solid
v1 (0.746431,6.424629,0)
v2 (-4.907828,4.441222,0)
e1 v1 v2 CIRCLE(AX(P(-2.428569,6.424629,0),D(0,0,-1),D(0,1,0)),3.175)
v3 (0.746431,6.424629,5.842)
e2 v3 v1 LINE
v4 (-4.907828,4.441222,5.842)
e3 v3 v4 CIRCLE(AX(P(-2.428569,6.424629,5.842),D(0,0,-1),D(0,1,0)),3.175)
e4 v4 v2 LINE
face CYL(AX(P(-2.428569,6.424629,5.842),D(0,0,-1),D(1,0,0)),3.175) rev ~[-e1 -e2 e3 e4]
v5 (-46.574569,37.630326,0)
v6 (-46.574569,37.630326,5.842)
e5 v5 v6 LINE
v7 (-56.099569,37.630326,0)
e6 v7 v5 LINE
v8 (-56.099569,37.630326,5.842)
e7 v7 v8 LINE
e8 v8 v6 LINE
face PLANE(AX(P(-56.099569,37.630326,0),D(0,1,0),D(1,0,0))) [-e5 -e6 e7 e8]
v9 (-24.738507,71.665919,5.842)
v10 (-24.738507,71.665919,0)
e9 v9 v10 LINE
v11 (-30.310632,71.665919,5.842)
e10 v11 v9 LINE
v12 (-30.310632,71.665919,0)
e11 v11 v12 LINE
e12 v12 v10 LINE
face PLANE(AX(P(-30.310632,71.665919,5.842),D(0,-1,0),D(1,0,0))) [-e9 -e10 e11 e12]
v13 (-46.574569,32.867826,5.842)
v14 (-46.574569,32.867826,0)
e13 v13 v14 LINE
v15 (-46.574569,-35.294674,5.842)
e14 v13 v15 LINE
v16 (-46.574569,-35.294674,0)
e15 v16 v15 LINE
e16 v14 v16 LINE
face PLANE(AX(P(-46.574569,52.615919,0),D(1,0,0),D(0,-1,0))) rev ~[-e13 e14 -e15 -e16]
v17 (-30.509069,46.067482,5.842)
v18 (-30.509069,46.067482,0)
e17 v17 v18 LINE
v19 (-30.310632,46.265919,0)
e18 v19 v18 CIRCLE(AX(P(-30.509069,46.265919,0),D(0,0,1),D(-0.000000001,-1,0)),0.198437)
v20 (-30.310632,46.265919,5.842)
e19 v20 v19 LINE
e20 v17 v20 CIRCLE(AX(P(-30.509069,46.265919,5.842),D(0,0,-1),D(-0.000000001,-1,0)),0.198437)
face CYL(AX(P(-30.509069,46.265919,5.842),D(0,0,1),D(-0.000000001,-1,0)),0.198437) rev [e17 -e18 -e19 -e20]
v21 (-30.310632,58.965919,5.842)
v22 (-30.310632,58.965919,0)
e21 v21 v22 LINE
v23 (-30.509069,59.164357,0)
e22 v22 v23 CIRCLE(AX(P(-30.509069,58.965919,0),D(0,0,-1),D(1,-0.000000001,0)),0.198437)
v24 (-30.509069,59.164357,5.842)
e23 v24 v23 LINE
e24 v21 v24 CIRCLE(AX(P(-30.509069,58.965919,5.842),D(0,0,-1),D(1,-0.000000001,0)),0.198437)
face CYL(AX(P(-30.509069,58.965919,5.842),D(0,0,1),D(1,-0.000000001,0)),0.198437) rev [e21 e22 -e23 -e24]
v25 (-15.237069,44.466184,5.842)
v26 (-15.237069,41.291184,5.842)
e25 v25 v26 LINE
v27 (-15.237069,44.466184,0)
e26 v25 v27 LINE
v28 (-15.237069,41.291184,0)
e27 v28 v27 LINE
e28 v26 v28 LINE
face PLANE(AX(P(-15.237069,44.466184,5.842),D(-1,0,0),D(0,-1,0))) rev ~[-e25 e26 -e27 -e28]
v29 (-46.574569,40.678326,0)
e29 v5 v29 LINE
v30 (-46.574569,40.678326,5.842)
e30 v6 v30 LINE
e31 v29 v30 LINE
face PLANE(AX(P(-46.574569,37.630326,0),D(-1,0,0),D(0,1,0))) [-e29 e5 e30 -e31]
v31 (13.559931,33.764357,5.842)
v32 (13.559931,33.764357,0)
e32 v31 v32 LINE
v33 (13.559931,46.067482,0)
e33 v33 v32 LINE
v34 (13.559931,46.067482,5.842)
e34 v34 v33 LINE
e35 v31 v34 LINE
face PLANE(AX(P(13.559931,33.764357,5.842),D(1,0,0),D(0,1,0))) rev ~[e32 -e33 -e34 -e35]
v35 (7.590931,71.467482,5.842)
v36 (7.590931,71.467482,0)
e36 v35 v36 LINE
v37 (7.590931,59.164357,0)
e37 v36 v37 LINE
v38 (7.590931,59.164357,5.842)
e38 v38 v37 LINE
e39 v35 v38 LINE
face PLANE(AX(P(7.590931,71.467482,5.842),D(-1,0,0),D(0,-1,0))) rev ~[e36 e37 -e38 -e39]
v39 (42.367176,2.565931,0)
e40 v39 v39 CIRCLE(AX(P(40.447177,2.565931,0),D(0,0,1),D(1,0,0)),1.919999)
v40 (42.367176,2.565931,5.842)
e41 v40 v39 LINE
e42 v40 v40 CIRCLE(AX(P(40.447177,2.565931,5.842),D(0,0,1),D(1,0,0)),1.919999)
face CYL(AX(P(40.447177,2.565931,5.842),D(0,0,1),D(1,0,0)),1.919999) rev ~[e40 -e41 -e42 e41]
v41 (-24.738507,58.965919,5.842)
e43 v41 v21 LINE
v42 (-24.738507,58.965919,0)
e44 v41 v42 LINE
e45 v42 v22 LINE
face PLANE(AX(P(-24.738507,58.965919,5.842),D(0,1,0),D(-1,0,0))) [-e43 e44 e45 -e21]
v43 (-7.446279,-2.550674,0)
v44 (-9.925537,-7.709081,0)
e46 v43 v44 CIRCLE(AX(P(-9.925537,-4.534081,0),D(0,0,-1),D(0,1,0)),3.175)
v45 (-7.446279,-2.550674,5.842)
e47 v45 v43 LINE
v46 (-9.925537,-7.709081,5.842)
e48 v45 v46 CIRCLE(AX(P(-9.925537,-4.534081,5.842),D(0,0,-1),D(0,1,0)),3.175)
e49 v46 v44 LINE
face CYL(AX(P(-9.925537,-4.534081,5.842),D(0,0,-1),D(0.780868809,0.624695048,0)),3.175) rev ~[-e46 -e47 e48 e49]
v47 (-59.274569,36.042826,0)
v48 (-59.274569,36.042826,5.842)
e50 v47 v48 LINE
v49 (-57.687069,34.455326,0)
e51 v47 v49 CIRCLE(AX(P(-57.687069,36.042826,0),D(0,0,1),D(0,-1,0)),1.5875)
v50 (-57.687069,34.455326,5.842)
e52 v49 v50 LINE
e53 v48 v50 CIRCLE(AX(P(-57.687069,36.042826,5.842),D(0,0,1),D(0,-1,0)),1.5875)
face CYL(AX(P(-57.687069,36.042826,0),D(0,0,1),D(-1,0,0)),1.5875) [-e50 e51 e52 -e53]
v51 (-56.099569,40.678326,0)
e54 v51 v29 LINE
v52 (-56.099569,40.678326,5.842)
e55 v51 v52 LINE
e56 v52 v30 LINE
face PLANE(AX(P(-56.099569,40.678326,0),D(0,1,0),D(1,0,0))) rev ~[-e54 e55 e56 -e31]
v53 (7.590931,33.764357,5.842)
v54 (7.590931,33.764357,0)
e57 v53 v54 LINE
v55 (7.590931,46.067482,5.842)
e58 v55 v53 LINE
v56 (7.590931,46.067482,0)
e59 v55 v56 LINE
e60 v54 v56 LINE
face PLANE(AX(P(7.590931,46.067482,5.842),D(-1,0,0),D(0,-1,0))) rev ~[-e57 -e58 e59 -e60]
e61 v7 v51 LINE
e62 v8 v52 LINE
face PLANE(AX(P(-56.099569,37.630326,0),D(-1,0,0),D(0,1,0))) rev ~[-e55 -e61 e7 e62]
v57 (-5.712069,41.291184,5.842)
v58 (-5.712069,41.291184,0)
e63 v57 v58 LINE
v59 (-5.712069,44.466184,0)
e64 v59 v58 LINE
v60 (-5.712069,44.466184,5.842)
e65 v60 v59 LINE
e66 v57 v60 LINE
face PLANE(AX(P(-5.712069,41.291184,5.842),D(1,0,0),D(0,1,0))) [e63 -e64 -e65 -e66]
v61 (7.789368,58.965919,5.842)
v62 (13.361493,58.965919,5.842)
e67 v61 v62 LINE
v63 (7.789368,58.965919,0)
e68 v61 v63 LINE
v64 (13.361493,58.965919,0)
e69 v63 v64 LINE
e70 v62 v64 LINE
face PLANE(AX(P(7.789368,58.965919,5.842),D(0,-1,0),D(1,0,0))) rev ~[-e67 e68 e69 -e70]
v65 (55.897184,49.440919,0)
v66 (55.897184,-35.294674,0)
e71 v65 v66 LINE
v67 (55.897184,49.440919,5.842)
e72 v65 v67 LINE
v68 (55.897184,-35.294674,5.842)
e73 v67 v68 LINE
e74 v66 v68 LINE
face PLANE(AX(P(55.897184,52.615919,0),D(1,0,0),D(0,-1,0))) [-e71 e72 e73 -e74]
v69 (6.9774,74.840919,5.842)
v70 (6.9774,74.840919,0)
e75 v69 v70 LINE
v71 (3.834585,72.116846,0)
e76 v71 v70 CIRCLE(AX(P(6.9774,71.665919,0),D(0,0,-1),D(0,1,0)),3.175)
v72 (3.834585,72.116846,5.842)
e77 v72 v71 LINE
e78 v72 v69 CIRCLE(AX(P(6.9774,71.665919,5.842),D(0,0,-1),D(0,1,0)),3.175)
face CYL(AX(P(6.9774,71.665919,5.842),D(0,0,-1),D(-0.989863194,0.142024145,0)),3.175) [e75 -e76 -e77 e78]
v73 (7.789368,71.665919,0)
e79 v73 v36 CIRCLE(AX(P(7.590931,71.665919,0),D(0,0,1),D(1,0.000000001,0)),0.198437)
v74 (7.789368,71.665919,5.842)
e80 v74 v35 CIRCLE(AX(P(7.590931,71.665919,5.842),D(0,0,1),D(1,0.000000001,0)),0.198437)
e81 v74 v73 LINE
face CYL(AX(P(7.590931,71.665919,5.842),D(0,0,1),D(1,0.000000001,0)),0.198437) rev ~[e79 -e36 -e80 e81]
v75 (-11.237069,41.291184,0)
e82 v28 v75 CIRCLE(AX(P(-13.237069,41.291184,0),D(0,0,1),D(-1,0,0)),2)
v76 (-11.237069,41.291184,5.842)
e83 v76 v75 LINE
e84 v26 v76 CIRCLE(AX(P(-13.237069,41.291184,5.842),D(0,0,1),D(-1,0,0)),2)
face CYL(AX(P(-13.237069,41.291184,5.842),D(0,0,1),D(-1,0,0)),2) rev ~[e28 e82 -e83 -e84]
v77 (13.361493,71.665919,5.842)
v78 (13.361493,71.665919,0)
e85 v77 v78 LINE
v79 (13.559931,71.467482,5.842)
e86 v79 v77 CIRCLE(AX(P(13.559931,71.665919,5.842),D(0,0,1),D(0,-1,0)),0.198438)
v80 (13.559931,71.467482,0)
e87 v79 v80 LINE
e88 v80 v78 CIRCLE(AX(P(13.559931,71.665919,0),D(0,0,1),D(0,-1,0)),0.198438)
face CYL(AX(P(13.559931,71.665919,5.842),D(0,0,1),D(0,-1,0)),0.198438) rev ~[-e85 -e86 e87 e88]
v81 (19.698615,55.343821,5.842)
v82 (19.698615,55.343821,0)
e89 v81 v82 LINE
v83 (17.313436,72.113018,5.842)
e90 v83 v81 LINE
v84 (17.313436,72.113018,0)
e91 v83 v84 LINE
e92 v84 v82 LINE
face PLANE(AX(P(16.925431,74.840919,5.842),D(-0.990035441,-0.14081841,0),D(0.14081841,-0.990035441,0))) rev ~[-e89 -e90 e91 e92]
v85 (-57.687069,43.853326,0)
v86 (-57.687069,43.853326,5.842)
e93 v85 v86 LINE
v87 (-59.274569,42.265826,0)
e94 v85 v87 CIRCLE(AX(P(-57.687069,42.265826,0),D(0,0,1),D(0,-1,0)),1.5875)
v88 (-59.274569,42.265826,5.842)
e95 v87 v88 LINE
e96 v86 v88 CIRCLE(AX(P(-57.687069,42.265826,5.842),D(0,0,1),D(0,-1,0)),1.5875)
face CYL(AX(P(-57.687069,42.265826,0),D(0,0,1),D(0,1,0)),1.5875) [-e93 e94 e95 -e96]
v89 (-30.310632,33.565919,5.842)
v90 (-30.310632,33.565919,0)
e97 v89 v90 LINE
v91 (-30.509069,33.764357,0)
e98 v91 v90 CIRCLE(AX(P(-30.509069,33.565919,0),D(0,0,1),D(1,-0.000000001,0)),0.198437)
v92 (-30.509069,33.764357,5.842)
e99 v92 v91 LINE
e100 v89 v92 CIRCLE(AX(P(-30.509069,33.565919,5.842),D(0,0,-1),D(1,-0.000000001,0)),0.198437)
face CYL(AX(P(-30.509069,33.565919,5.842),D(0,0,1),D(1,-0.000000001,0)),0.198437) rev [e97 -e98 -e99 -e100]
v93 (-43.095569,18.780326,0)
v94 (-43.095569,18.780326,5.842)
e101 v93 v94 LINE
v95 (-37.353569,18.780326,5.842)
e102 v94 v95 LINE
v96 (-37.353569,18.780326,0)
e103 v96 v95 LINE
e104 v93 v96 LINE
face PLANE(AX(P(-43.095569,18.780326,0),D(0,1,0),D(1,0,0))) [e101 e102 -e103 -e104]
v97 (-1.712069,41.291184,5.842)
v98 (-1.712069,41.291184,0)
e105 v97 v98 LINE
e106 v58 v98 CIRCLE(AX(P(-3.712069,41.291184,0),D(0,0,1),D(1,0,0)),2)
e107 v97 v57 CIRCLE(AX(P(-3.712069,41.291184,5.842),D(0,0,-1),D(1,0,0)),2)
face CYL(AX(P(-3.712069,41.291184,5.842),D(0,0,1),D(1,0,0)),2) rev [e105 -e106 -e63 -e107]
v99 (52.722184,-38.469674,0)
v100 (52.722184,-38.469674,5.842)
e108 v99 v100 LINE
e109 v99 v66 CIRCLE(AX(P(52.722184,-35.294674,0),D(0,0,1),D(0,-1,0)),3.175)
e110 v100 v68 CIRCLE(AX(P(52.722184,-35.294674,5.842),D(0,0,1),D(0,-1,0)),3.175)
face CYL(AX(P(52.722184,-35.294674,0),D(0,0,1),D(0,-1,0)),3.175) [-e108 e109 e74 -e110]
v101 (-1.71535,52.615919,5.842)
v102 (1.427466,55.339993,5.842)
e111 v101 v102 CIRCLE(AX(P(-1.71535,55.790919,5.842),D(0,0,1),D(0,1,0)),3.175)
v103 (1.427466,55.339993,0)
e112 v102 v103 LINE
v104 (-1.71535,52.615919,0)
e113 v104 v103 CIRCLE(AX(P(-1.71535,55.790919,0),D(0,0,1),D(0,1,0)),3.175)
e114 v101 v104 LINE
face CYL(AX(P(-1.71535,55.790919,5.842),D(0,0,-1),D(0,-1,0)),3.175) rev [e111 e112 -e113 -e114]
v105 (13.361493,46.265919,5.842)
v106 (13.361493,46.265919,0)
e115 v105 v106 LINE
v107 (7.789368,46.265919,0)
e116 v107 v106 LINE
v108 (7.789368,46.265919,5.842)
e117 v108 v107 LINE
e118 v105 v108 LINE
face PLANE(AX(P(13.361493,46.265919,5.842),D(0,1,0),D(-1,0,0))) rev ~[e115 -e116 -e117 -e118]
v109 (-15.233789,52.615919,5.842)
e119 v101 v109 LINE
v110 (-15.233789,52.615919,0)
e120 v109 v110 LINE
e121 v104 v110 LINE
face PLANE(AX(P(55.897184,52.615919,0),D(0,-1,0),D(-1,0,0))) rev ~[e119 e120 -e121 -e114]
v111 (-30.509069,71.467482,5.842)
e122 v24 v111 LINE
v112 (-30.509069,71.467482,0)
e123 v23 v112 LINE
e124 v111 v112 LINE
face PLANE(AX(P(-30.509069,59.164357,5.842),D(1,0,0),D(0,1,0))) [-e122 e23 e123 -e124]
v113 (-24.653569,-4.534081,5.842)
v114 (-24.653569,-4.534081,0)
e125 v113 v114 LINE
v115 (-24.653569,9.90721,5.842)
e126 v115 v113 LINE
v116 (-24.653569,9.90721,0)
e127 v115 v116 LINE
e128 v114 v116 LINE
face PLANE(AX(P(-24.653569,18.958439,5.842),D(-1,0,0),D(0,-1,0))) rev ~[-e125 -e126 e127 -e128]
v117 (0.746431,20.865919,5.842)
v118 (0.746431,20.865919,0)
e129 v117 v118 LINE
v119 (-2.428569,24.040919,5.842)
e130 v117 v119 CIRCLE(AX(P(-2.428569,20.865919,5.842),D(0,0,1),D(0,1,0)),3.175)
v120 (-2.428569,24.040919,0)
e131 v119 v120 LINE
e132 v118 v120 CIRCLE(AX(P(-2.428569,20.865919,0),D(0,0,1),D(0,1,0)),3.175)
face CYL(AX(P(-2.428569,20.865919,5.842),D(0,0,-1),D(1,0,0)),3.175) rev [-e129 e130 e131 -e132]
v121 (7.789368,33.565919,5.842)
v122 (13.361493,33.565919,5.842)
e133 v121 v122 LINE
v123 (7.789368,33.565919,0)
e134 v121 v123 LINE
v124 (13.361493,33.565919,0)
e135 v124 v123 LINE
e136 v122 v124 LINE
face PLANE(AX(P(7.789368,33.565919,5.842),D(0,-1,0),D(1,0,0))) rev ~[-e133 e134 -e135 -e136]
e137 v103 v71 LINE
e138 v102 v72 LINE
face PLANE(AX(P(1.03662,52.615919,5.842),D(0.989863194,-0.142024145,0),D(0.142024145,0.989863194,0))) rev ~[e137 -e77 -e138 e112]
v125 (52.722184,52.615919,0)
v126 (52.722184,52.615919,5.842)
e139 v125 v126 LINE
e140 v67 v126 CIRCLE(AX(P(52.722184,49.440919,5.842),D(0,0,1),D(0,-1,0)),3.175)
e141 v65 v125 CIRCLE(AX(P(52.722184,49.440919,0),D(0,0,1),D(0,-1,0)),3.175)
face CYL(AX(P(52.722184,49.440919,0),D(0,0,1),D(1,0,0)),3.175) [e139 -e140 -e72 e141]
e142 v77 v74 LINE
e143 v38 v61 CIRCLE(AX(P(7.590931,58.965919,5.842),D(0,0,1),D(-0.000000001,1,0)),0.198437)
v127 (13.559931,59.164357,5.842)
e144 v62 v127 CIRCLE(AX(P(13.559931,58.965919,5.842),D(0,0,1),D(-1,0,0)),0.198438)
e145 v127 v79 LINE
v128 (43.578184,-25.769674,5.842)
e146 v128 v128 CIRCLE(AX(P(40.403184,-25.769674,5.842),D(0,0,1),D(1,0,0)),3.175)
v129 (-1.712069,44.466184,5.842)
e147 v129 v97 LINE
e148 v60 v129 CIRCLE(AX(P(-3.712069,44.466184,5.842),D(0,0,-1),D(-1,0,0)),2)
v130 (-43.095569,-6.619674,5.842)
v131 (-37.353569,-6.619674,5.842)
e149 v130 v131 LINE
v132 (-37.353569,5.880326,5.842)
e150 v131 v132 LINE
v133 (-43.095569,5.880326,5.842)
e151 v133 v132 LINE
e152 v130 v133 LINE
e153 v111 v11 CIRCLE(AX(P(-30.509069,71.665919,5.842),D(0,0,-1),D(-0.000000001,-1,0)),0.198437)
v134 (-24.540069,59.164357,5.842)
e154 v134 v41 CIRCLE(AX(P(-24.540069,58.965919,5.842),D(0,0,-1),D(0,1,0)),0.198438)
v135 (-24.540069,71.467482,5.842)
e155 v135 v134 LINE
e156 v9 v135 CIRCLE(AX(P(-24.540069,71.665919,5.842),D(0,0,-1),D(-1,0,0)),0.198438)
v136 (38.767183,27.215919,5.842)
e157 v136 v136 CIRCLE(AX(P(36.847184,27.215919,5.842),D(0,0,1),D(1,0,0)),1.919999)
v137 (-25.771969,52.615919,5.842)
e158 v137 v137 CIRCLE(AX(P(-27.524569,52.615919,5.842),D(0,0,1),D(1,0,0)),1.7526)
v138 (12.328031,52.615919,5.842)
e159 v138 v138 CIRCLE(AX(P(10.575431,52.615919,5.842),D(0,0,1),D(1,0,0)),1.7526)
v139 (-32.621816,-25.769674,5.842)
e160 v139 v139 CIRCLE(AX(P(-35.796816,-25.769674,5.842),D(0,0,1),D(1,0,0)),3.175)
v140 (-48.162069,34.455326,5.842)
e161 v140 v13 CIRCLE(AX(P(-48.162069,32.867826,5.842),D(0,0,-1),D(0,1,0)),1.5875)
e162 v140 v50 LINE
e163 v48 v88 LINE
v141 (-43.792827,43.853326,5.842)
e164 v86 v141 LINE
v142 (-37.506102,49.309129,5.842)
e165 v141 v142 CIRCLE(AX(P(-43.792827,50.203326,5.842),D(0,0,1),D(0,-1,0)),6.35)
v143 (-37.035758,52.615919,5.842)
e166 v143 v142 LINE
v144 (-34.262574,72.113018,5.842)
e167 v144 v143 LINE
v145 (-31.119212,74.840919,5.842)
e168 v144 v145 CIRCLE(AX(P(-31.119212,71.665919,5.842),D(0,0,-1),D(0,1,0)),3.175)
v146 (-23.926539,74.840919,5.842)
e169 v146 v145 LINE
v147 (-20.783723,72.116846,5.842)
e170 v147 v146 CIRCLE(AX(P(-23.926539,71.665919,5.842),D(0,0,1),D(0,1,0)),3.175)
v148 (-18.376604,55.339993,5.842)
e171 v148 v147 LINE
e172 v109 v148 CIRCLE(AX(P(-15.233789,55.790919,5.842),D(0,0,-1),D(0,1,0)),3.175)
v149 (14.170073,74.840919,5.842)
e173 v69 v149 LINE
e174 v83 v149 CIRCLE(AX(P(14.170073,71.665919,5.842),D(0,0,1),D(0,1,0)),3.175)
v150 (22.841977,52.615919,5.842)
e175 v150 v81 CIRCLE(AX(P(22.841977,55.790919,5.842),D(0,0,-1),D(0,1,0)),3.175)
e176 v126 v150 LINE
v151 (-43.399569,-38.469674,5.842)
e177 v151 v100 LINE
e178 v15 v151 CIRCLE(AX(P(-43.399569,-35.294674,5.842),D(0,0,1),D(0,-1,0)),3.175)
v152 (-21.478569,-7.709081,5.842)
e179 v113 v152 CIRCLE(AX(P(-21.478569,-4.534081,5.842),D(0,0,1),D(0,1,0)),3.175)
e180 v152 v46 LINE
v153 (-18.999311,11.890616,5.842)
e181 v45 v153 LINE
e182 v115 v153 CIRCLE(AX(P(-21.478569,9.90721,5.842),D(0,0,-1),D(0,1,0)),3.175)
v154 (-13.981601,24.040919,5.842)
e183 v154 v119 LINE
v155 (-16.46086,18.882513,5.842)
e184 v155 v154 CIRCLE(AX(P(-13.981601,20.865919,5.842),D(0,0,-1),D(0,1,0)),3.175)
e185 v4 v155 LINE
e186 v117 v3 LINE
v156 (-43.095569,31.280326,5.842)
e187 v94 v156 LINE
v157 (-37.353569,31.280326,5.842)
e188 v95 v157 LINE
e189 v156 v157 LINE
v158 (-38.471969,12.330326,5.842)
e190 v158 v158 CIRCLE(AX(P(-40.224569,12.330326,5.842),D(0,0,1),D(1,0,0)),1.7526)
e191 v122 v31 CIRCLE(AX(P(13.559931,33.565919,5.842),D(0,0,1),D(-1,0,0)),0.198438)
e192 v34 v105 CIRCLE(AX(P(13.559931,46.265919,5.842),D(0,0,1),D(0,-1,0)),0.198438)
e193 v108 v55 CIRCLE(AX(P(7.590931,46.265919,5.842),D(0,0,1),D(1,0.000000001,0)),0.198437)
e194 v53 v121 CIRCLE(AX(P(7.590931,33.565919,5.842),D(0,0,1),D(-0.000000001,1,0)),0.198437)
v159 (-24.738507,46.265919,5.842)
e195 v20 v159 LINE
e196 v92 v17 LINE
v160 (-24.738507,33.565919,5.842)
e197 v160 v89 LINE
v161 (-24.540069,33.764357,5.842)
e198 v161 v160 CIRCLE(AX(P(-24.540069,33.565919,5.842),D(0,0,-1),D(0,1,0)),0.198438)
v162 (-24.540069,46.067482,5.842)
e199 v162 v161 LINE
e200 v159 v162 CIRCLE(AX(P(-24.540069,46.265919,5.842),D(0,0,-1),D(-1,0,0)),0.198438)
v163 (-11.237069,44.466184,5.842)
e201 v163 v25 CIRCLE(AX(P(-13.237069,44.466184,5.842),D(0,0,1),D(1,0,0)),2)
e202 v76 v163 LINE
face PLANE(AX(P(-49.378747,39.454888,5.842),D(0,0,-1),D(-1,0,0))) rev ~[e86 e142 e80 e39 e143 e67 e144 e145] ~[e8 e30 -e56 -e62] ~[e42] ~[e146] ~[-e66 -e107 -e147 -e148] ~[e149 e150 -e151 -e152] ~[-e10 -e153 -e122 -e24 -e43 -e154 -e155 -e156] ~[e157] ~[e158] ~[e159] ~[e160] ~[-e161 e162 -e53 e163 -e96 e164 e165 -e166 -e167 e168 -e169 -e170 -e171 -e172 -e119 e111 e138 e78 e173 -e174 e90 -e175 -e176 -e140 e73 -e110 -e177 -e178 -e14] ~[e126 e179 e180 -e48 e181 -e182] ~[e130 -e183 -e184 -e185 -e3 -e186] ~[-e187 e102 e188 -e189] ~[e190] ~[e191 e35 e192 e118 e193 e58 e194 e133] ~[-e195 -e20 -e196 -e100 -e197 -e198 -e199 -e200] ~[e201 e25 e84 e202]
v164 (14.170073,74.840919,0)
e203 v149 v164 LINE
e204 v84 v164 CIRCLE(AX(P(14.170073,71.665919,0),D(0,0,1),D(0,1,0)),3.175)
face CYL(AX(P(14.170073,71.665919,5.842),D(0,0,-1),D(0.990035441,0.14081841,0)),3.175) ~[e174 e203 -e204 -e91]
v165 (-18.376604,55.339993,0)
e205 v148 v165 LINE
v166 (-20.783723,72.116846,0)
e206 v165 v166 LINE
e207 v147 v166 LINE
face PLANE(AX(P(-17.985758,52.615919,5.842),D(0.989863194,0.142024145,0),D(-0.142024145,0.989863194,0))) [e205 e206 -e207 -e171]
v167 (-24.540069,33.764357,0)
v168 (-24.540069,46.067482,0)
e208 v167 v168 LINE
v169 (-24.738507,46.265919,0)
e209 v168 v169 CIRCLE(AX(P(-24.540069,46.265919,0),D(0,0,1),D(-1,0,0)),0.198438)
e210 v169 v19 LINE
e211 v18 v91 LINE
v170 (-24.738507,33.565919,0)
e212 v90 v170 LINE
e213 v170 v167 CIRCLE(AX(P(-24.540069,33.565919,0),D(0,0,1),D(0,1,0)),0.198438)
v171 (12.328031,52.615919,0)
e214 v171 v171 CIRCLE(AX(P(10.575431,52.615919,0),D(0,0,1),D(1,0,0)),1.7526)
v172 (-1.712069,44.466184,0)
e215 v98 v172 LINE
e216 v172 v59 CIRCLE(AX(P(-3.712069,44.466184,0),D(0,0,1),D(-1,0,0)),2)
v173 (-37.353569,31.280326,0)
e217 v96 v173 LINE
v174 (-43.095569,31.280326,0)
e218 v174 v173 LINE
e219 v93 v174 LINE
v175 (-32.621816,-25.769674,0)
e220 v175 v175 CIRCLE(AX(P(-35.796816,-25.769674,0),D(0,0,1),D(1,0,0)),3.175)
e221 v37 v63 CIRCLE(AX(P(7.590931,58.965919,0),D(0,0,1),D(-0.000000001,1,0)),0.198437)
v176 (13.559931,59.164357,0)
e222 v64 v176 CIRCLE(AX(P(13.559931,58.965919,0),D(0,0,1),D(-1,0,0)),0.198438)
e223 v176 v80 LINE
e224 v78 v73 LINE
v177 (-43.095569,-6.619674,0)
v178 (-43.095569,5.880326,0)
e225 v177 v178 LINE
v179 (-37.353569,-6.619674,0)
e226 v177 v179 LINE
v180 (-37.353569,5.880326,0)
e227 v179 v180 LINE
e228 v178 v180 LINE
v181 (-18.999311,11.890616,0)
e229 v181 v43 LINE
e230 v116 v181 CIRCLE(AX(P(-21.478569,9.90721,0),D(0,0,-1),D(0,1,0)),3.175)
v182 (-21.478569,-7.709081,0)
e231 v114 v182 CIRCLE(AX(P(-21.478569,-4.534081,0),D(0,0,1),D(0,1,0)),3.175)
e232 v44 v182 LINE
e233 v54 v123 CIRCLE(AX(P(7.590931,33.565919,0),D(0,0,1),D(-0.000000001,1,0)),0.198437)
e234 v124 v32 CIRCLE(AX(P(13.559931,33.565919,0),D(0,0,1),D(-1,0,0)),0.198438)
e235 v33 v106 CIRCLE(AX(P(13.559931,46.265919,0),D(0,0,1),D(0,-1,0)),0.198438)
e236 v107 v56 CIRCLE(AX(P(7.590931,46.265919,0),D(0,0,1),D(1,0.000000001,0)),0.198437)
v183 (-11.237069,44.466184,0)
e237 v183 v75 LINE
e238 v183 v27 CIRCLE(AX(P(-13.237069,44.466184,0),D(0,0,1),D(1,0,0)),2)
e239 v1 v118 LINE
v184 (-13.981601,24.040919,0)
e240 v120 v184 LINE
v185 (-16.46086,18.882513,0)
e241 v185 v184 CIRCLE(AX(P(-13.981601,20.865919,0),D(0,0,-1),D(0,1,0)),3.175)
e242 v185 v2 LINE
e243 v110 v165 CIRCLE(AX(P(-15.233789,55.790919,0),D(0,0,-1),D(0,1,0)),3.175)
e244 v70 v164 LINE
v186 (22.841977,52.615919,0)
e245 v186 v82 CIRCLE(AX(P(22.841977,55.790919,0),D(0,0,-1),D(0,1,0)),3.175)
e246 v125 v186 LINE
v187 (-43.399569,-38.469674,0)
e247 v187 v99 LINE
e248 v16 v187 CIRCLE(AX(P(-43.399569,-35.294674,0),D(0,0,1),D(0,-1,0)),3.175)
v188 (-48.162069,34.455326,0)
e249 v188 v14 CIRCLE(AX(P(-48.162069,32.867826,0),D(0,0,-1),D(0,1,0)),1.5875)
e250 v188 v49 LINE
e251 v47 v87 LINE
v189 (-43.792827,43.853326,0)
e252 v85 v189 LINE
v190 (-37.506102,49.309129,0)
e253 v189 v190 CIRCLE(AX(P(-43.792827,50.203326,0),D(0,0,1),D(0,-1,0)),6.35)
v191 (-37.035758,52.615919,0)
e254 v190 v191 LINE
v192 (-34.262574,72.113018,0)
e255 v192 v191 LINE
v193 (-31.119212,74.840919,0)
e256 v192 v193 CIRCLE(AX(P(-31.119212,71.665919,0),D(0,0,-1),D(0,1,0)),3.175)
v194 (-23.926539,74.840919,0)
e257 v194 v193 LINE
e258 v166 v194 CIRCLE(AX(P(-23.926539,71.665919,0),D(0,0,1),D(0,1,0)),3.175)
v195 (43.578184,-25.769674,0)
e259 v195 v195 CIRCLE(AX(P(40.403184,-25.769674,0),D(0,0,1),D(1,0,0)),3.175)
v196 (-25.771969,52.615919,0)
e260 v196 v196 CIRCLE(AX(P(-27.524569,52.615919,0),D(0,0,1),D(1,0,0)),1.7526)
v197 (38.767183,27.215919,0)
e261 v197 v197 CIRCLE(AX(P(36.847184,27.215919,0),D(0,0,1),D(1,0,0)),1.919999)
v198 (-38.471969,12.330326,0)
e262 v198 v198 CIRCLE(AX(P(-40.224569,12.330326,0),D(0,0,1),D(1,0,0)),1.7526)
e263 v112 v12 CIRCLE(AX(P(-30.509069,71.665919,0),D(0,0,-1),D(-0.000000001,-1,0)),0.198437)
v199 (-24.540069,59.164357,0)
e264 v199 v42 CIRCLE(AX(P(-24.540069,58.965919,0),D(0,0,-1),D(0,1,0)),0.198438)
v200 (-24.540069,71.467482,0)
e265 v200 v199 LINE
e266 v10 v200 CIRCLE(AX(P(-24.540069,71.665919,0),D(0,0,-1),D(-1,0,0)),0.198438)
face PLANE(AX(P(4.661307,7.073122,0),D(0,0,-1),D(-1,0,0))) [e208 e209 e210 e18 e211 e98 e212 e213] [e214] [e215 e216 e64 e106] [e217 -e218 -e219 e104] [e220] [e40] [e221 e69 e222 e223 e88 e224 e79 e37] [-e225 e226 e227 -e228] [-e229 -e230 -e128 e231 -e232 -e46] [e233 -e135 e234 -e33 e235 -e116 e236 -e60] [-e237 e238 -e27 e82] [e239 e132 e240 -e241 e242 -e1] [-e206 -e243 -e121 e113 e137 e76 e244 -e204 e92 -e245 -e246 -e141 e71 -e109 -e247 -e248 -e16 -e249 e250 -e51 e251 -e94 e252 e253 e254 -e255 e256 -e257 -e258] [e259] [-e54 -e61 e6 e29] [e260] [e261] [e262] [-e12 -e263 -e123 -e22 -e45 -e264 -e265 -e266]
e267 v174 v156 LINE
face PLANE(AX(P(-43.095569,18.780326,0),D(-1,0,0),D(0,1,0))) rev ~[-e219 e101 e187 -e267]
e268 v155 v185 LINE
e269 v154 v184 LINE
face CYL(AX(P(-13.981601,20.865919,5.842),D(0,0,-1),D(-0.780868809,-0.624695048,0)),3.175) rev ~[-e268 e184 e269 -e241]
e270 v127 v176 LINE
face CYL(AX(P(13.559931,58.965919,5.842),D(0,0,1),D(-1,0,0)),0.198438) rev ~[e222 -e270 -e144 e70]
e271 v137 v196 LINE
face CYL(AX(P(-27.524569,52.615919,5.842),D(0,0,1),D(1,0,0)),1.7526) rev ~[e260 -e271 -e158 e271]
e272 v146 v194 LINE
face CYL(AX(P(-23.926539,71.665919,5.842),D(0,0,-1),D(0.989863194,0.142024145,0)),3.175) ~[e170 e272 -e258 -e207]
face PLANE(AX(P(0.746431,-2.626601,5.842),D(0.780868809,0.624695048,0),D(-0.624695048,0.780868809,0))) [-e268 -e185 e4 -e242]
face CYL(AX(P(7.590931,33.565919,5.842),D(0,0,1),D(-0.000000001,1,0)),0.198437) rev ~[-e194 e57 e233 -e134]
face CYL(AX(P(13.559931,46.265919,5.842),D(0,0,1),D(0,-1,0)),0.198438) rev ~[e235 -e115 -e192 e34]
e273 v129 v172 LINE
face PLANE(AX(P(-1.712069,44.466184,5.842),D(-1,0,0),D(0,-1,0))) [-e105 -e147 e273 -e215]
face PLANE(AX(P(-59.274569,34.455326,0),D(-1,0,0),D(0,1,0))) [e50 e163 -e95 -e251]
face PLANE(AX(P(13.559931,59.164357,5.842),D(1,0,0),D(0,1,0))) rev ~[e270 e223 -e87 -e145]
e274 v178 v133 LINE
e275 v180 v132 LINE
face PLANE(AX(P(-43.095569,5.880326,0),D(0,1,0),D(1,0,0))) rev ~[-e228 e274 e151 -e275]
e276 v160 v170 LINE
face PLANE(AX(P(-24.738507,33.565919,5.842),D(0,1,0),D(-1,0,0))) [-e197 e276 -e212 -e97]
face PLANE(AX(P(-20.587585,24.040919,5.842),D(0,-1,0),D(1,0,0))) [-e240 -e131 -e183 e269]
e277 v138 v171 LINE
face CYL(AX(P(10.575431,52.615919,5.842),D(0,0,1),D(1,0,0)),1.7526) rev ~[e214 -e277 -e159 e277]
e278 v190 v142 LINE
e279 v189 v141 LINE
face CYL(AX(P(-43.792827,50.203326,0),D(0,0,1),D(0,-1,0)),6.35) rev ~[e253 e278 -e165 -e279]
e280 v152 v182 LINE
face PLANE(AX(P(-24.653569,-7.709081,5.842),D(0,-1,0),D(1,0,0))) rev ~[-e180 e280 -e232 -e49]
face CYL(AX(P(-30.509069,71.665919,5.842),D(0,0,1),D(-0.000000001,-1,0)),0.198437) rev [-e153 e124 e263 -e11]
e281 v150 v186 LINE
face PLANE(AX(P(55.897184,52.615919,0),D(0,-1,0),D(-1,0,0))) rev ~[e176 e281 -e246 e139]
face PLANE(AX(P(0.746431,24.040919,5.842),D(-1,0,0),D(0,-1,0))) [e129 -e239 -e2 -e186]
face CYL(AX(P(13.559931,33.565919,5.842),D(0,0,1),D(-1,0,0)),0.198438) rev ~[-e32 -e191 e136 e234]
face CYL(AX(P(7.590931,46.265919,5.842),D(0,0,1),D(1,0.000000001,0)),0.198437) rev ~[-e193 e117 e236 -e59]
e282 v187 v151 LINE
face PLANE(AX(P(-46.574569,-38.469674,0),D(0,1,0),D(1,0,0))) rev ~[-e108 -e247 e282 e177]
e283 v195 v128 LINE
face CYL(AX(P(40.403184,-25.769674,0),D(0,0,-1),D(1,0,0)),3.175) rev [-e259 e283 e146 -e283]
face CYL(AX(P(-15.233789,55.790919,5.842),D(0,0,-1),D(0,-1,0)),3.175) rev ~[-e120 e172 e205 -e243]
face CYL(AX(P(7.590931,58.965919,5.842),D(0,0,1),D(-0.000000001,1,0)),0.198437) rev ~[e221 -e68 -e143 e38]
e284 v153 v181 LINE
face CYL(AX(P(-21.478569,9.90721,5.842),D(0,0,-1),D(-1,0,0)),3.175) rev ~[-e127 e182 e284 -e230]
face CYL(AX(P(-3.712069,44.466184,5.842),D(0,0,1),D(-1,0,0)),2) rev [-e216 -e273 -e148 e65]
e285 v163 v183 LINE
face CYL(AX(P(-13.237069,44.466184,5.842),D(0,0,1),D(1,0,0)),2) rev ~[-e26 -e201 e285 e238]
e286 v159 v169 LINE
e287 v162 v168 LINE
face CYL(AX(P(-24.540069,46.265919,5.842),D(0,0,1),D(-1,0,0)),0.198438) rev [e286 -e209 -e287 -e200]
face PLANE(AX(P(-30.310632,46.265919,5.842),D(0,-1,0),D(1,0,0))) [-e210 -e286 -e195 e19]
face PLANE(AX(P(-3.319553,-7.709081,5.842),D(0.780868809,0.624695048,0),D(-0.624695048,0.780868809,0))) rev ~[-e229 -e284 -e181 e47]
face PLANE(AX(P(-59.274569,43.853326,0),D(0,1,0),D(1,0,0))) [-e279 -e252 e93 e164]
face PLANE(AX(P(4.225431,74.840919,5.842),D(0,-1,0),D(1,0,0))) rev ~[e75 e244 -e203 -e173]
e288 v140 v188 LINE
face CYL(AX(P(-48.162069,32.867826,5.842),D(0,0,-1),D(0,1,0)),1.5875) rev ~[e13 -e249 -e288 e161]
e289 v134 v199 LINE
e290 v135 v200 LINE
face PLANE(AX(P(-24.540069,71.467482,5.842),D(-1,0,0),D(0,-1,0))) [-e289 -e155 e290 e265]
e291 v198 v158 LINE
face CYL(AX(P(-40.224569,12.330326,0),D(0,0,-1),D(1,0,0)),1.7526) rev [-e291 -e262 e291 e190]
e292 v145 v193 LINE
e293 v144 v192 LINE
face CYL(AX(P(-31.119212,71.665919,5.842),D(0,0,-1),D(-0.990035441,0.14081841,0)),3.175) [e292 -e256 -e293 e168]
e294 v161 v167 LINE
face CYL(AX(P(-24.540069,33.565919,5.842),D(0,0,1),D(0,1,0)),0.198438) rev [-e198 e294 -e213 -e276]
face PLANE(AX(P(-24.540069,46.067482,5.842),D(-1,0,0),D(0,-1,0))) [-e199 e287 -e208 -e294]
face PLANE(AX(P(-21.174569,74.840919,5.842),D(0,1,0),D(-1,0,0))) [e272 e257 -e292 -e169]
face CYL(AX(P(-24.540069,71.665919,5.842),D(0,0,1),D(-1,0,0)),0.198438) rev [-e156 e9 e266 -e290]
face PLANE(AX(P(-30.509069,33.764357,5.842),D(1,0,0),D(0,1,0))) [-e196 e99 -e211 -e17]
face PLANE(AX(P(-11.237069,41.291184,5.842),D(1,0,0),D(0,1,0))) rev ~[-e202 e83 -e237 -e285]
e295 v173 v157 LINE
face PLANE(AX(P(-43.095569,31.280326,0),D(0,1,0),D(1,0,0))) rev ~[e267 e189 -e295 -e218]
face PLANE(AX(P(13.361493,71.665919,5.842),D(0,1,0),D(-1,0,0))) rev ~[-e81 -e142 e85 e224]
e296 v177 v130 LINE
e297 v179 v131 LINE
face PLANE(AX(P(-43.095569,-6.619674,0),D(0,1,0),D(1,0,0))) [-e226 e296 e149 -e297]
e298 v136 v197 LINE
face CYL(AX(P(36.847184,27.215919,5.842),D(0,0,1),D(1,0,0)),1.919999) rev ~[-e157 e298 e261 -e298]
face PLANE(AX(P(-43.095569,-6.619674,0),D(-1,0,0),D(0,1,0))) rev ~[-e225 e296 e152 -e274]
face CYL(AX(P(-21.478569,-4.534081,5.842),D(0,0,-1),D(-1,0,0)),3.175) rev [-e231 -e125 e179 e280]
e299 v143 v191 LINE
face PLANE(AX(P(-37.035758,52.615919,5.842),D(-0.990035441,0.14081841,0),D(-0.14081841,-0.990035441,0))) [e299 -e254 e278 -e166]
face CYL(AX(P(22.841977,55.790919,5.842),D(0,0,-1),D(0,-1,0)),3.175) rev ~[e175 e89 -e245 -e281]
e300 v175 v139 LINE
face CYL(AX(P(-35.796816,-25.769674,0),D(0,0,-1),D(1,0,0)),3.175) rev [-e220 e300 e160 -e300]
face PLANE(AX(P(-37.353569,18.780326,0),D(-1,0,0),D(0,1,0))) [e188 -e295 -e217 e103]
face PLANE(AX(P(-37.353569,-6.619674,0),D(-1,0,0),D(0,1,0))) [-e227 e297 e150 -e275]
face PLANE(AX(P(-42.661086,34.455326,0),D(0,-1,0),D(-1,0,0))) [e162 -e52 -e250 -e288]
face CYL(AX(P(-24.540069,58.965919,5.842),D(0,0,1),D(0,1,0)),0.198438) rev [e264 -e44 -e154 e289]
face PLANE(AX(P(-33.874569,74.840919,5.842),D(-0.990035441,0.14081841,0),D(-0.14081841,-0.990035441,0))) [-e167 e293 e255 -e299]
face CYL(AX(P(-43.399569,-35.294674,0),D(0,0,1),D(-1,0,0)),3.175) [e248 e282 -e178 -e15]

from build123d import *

# Parameters (mm, degrees)
SKETCH1_R           = 3.175
SKETCH1_R_2         = 1.7526
SKETCH1_W           = 5.742
SKETCH1_H           = 12.5
BOSS_EXTRUDE1_DEPTH = 5.842
CUT_EXTRUDE2_DEPTH  = 77.987395934
BOSS_EXTRUDE2_DEPTH = 5.842
FILLET1_R           = 3.175
SKETCH5_R           = 1.7526
CUT_EXTRUDE3_DEPTH  = 94.593735754
CUT_EXTRUDE4_DEPTH  = 94.593735754
FILLET2_R           = 3.175
CUT_EXTRUDE8_DEPTH  = 94.593735754
FILLET3_R           = 3.175
SKETCH11_R          = 1.9199987
CUT_EXTRUDE9_DEPTH  = 94.593735754
CUT_EXTRUDE10_DEPTH = 94.593735754
BOSS_EXTRUDE3_START = -5.842
SKETCH14_W          = 9.525
SKETCH14_H          = 3.048
BOSS_EXTRUDE3_DEPTH = 5.842
FILLET4_R           = 1.5875
FILLET5_R           = 6.35


with BuildPart() as part:
    # Sketch1 → Boss-Extrude1 (new body)
    with BuildSketch(Plane.XY):
        Polygon((51.85043079, -38.469674457), (-46.57456921, -38.469674457), (-46.57456921, 34.555325543), (-46.57456921, 52.615919343), (51.85043079, 52.615919343), (55.89718419, 52.615919343), (55.89718419, -38.469674457), align=None)
        with Locations((-35.79681581, -25.769674457)):
            Circle(SKETCH1_R, mode=Mode.SUBTRACT)
        with Locations((40.40318419, -25.769674457)):
            Circle(SKETCH1_R, mode=Mode.SUBTRACT)
        with Locations((-40.22456921, 12.330325543)):
            Circle(SKETCH1_R_2, mode=Mode.SUBTRACT)
        with Locations((-40.22456921, -0.369674457)):
            Rectangle(SKETCH1_W, SKETCH1_H, mode=Mode.SUBTRACT)
        with Locations((-40.22456921, 25.030325543)):
            Rectangle(SKETCH1_W, SKETCH1_H, mode=Mode.SUBTRACT)
    extrude(amount=BOSS_EXTRUDE1_DEPTH)

    # Sketch3 → Cut-Extrude2 (cut, through all)
    with BuildSketch(Plane.XY.offset(5.842)):
        with BuildLine():
            Line((-24.73850671, 33.565919343), (-30.31063171, 33.565919343))
            ThreePointArc((-30.31063171, 33.565919343), (-30.649385711, 33.425602841), (-30.50906921, 33.764356843))
            Line((-30.50906921, 33.764356843), (-30.50906921, 46.067481843))
            ThreePointArc((-30.50906921, 46.067481843), (-30.649385711, 46.406235845), (-30.31063171, 46.265919343))
            Line((-30.31063171, 46.265919343), (-24.73850671, 46.265919343))
            ThreePointArc((-24.73850671, 46.265919343), (-24.399752708, 46.406235845), (-24.54006921, 46.067481843))
            Line((-24.54006921, 46.067481843), (-24.54006921, 33.764356843))
            ThreePointArc((-24.54006921, 33.764356843), (-24.399752708, 33.425602841), (-24.73850671, 33.565919343))
        make_face()
        with BuildLine():
            Line((13.55993079, 33.764356843), (13.55993079, 46.067481843))
            ThreePointArc((13.55993079, 46.067481843), (13.700247292, 46.406235845), (13.36149329, 46.265919343))
            Line((13.36149329, 46.265919343), (7.78936829, 46.265919343))
            ThreePointArc((7.78936829, 46.265919343), (7.450614289, 46.406235845), (7.59093079, 46.067481843))
            Line((7.59093079, 46.067481843), (7.59093079, 33.764356843))
            ThreePointArc((7.59093079, 33.764356843), (7.450614289, 33.425602841), (7.78936829, 33.565919343))
            Line((7.78936829, 33.565919343), (13.36149329, 33.565919343))
            ThreePointArc((13.36149329, 33.565919343), (13.700247292, 33.425602841), (13.55993079, 33.764356843))
        make_face()
    extrude(amount=-CUT_EXTRUDE2_DEPTH, mode=Mode.SUBTRACT)

    # Sketch4 → Boss-Extrude2 (add)
    # profile 1 of 2: a face of its own
    with BuildSketch(Plane.XY.offset(5.842)):
        Polygon((1.036619808, 52.615919343), (4.22543079, 74.840919343), (16.92543079, 74.840919343), (20.086619808, 52.615919343), align=None)
        with BuildLine():
            Line((13.36149329, 71.665919343), (7.78936829, 71.665919343))
            ThreePointArc((7.78936829, 71.665919343), (7.450614289, 71.806235845), (7.59093079, 71.467481843))
            Line((7.59093079, 71.467481843), (7.59093079, 59.164356843))
            ThreePointArc((7.59093079, 59.164356843), (7.450614289, 58.825602841), (7.78936829, 58.965919343))
            Line((7.78936829, 58.965919343), (13.36149329, 58.965919343))
            ThreePointArc((13.36149329, 58.965919343), (13.700247292, 58.825602841), (13.55993079, 59.164356843))
            Line((13.55993079, 59.164356843), (13.55993079, 71.467481843))
            ThreePointArc((13.55993079, 71.467481843), (13.700247292, 71.806235845), (13.36149329, 71.665919343))
        make_face(mode=Mode.SUBTRACT)
    # profile 2 of 2: a face of its own
    with BuildSketch(Plane.XY.offset(5.842)):
        Polygon((-37.035758227, 52.615919343), (-17.985758227, 52.615919343), (-21.17456921, 74.840919343), (-33.87456921, 74.840919343), align=None)
        with BuildLine():
            Line((-24.54006921, 71.467481843), (-24.54006921, 59.164356843))
            ThreePointArc((-24.54006921, 59.164356843), (-24.399752708, 58.825602841), (-24.73850671, 58.965919343))
            Line((-24.73850671, 58.965919343), (-30.31063171, 58.965919343))
            ThreePointArc((-30.31063171, 58.965919343), (-30.649385711, 58.825602841), (-30.50906921, 59.164356843))
            Line((-30.50906921, 59.164356843), (-30.50906921, 71.467481843))
            ThreePointArc((-30.50906921, 71.467481843), (-30.649385711, 71.806235845), (-30.31063171, 71.665919343))
            Line((-30.31063171, 71.665919343), (-24.73850671, 71.665919343))
            ThreePointArc((-24.73850671, 71.665919343), (-24.399752708, 71.806235845), (-24.54006921, 71.467481843))
        make_face(mode=Mode.SUBTRACT)
    extrude(amount=-BOSS_EXTRUDE2_DEPTH)

    # Fillet1
    fillet1_edges = [part.edges().sort_by_distance(p)[0] for p in [
        (20.086619808, 52.615919343, 2.921),
        (16.92543079, 74.840919343, 2.921),
        (4.22543079, 74.840919343, 2.921),
        (1.036619808, 52.615919343, 2.921),
        (-17.985758227, 52.615919343, 2.921),
        (-21.17456921, 74.840919343, 2.921),
        (-33.87456921, 74.840919343, 2.921),
    ]]
    fillet(fillet1_edges, radius=FILLET1_R)

    # Sketch5 → Cut-Extrude3 (cut, through all)
    with BuildSketch(Plane.XY.offset(5.842)):
        with Locations((-27.52456921, 52.615919343)):
            Circle(SKETCH5_R)
        with Locations((10.57543079, 52.615919343)):
            Circle(SKETCH5_R)
    extrude(amount=-CUT_EXTRUDE3_DEPTH, mode=Mode.SUBTRACT)

    # Sketch6 → Cut-Extrude4 (cut, through all)
    with BuildSketch(Plane.XY.offset(5.842)):
        Polygon((-37.035758227, 52.615919343), (-39.167245046, 37.630325543), (-46.57456921, 37.630325543), (-46.57456921, 52.615919343), align=None)
    extrude(amount=-CUT_EXTRUDE4_DEPTH, mode=Mode.SUBTRACT)

    # Fillet2
    fillet2_edges = [part.edges().sort_by_distance(p)[0] for p in [
        (-39.167245046, 37.630325543, 2.921),
        (-46.57456921, 37.630325543, 2.921),
        (-46.57456921, -38.469674457, 2.921),
        (55.89718419, 52.615919343, 2.921),
        (55.89718419, -38.469674457, 2.921),
    ]]
    fillet(fillet2_edges, radius=FILLET2_R)

    # Sketch10 → Cut-Extrude8 (cut, through all)
    with BuildSketch(Plane.XY.offset(5.842)):
        Polygon((-20.587585319, 24.040919343), (0.74643079, 24.040919343), (0.74643079, -2.626600794), align=None)
        Polygon((-24.65356921, 18.958439479), (-24.65356921, -7.709080657), (-3.3195531, -7.709080657), align=None)
    extrude(amount=-CUT_EXTRUDE8_DEPTH, mode=Mode.SUBTRACT)

    # Fillet3
    fillet3_edges = [part.edges().sort_by_distance(p)[0] for p in [
        (0.74643079, 24.040919343, 2.921),
        (0.74643079, -2.626600794, 2.921),
        (-20.587585319, 24.040919343, 2.921),
        (-3.3195531, -7.709080657, 2.921),
        (-24.65356921, -7.709080657, 2.921),
        (-24.65356921, 18.958439479, 2.921),
    ]]
    fillet(fillet3_edges, radius=FILLET3_R)

    # Sketch11 → Cut-Extrude9 (cut, through all)
    with BuildSketch(Plane.XY.offset(5.842)):
        with Locations((36.84718419, 27.215919343)):
            Circle(SKETCH11_R)
        with Locations((40.44717699, 2.565930543)):
            Circle(SKETCH11_R)
    extrude(amount=-CUT_EXTRUDE9_DEPTH, mode=Mode.SUBTRACT)

    # Sketch12 → Cut-Extrude10 (cut, through all)
    with BuildSketch(Plane.XY.offset(5.842)):
        with BuildLine():
            Line((-5.71206921, 41.291183898), (-5.71206921, 44.466183898))
            ThreePointArc((-5.71206921, 44.466183898), (-3.71206921, 46.466183898), (-1.71206921, 44.466183898))
            Line((-1.71206921, 44.466183898), (-1.71206921, 41.291183898))
            ThreePointArc((-1.71206921, 41.291183898), (-3.71206921, 39.291183898), (-5.71206921, 41.291183898))
        make_face()
        with BuildLine():
            Line((-11.23706921, 41.291183898), (-11.23706921, 44.466183898))
            ThreePointArc((-11.23706921, 44.466183898), (-13.23706921, 46.466183898), (-15.23706921, 44.466183898))
            Line((-15.23706921, 44.466183898), (-15.23706921, 41.291183898))
            ThreePointArc((-15.23706921, 41.291183898), (-13.23706921, 39.291183898), (-11.23706921, 41.291183898))
        make_face()
    extrude(amount=-CUT_EXTRUDE10_DEPTH, mode=Mode.SUBTRACT)

    # Sketch14 → Boss-Extrude3 (add)
    with BuildSketch(Plane.XY.offset(5.842).offset(BOSS_EXTRUDE3_START)):
        with BuildLine():
            Line((-42.661085862, 37.630325543), (-42.661085862, 34.455325543))
            Line((-42.661085862, 34.455325543), (-59.27456921, 34.455325543))
            Line((-59.27456921, 34.455325543), (-59.27456921, 37.630325543))
            Line((-59.27456921, 37.630325543), (-59.27456921, 43.853325543))
            Line((-59.27456921, 43.853325543), (-38.282112121, 43.853325543))
            Line((-38.282112121, 43.853325543), (-38.779239988, 40.358227091))
            ThreePointArc((-38.779239988, 40.358227091), (-39.84160667, 38.40739283), (-41.922602515, 37.630325543))
            Line((-41.922602515, 37.630325543), (-42.661085862, 37.630325543))
        make_face()
        with Locations((-51.33706921, 39.154325543)):
            Rectangle(SKETCH14_W, SKETCH14_H, mode=Mode.SUBTRACT)
    extrude(amount=BOSS_EXTRUDE3_DEPTH)

    # Fillet4
    fillet4_edges = [part.edges().sort_by_distance(p)[0] for p in [
        (-46.57456921, 34.455325543, 2.921),
        (-59.27456921, 43.853325543, 2.921),
        (-59.27456921, 34.455325543, 2.921),
    ]]
    fillet(fillet4_edges, radius=FILLET4_R)

    # Fillet5
    fillet5_edges = [part.edges().sort_by_distance(p)[0] for p in [
        (-38.282112121, 43.853325543, 2.921),
    ]]
    fillet(fillet5_edges, radius=FILLET5_R)


solid = part.part
